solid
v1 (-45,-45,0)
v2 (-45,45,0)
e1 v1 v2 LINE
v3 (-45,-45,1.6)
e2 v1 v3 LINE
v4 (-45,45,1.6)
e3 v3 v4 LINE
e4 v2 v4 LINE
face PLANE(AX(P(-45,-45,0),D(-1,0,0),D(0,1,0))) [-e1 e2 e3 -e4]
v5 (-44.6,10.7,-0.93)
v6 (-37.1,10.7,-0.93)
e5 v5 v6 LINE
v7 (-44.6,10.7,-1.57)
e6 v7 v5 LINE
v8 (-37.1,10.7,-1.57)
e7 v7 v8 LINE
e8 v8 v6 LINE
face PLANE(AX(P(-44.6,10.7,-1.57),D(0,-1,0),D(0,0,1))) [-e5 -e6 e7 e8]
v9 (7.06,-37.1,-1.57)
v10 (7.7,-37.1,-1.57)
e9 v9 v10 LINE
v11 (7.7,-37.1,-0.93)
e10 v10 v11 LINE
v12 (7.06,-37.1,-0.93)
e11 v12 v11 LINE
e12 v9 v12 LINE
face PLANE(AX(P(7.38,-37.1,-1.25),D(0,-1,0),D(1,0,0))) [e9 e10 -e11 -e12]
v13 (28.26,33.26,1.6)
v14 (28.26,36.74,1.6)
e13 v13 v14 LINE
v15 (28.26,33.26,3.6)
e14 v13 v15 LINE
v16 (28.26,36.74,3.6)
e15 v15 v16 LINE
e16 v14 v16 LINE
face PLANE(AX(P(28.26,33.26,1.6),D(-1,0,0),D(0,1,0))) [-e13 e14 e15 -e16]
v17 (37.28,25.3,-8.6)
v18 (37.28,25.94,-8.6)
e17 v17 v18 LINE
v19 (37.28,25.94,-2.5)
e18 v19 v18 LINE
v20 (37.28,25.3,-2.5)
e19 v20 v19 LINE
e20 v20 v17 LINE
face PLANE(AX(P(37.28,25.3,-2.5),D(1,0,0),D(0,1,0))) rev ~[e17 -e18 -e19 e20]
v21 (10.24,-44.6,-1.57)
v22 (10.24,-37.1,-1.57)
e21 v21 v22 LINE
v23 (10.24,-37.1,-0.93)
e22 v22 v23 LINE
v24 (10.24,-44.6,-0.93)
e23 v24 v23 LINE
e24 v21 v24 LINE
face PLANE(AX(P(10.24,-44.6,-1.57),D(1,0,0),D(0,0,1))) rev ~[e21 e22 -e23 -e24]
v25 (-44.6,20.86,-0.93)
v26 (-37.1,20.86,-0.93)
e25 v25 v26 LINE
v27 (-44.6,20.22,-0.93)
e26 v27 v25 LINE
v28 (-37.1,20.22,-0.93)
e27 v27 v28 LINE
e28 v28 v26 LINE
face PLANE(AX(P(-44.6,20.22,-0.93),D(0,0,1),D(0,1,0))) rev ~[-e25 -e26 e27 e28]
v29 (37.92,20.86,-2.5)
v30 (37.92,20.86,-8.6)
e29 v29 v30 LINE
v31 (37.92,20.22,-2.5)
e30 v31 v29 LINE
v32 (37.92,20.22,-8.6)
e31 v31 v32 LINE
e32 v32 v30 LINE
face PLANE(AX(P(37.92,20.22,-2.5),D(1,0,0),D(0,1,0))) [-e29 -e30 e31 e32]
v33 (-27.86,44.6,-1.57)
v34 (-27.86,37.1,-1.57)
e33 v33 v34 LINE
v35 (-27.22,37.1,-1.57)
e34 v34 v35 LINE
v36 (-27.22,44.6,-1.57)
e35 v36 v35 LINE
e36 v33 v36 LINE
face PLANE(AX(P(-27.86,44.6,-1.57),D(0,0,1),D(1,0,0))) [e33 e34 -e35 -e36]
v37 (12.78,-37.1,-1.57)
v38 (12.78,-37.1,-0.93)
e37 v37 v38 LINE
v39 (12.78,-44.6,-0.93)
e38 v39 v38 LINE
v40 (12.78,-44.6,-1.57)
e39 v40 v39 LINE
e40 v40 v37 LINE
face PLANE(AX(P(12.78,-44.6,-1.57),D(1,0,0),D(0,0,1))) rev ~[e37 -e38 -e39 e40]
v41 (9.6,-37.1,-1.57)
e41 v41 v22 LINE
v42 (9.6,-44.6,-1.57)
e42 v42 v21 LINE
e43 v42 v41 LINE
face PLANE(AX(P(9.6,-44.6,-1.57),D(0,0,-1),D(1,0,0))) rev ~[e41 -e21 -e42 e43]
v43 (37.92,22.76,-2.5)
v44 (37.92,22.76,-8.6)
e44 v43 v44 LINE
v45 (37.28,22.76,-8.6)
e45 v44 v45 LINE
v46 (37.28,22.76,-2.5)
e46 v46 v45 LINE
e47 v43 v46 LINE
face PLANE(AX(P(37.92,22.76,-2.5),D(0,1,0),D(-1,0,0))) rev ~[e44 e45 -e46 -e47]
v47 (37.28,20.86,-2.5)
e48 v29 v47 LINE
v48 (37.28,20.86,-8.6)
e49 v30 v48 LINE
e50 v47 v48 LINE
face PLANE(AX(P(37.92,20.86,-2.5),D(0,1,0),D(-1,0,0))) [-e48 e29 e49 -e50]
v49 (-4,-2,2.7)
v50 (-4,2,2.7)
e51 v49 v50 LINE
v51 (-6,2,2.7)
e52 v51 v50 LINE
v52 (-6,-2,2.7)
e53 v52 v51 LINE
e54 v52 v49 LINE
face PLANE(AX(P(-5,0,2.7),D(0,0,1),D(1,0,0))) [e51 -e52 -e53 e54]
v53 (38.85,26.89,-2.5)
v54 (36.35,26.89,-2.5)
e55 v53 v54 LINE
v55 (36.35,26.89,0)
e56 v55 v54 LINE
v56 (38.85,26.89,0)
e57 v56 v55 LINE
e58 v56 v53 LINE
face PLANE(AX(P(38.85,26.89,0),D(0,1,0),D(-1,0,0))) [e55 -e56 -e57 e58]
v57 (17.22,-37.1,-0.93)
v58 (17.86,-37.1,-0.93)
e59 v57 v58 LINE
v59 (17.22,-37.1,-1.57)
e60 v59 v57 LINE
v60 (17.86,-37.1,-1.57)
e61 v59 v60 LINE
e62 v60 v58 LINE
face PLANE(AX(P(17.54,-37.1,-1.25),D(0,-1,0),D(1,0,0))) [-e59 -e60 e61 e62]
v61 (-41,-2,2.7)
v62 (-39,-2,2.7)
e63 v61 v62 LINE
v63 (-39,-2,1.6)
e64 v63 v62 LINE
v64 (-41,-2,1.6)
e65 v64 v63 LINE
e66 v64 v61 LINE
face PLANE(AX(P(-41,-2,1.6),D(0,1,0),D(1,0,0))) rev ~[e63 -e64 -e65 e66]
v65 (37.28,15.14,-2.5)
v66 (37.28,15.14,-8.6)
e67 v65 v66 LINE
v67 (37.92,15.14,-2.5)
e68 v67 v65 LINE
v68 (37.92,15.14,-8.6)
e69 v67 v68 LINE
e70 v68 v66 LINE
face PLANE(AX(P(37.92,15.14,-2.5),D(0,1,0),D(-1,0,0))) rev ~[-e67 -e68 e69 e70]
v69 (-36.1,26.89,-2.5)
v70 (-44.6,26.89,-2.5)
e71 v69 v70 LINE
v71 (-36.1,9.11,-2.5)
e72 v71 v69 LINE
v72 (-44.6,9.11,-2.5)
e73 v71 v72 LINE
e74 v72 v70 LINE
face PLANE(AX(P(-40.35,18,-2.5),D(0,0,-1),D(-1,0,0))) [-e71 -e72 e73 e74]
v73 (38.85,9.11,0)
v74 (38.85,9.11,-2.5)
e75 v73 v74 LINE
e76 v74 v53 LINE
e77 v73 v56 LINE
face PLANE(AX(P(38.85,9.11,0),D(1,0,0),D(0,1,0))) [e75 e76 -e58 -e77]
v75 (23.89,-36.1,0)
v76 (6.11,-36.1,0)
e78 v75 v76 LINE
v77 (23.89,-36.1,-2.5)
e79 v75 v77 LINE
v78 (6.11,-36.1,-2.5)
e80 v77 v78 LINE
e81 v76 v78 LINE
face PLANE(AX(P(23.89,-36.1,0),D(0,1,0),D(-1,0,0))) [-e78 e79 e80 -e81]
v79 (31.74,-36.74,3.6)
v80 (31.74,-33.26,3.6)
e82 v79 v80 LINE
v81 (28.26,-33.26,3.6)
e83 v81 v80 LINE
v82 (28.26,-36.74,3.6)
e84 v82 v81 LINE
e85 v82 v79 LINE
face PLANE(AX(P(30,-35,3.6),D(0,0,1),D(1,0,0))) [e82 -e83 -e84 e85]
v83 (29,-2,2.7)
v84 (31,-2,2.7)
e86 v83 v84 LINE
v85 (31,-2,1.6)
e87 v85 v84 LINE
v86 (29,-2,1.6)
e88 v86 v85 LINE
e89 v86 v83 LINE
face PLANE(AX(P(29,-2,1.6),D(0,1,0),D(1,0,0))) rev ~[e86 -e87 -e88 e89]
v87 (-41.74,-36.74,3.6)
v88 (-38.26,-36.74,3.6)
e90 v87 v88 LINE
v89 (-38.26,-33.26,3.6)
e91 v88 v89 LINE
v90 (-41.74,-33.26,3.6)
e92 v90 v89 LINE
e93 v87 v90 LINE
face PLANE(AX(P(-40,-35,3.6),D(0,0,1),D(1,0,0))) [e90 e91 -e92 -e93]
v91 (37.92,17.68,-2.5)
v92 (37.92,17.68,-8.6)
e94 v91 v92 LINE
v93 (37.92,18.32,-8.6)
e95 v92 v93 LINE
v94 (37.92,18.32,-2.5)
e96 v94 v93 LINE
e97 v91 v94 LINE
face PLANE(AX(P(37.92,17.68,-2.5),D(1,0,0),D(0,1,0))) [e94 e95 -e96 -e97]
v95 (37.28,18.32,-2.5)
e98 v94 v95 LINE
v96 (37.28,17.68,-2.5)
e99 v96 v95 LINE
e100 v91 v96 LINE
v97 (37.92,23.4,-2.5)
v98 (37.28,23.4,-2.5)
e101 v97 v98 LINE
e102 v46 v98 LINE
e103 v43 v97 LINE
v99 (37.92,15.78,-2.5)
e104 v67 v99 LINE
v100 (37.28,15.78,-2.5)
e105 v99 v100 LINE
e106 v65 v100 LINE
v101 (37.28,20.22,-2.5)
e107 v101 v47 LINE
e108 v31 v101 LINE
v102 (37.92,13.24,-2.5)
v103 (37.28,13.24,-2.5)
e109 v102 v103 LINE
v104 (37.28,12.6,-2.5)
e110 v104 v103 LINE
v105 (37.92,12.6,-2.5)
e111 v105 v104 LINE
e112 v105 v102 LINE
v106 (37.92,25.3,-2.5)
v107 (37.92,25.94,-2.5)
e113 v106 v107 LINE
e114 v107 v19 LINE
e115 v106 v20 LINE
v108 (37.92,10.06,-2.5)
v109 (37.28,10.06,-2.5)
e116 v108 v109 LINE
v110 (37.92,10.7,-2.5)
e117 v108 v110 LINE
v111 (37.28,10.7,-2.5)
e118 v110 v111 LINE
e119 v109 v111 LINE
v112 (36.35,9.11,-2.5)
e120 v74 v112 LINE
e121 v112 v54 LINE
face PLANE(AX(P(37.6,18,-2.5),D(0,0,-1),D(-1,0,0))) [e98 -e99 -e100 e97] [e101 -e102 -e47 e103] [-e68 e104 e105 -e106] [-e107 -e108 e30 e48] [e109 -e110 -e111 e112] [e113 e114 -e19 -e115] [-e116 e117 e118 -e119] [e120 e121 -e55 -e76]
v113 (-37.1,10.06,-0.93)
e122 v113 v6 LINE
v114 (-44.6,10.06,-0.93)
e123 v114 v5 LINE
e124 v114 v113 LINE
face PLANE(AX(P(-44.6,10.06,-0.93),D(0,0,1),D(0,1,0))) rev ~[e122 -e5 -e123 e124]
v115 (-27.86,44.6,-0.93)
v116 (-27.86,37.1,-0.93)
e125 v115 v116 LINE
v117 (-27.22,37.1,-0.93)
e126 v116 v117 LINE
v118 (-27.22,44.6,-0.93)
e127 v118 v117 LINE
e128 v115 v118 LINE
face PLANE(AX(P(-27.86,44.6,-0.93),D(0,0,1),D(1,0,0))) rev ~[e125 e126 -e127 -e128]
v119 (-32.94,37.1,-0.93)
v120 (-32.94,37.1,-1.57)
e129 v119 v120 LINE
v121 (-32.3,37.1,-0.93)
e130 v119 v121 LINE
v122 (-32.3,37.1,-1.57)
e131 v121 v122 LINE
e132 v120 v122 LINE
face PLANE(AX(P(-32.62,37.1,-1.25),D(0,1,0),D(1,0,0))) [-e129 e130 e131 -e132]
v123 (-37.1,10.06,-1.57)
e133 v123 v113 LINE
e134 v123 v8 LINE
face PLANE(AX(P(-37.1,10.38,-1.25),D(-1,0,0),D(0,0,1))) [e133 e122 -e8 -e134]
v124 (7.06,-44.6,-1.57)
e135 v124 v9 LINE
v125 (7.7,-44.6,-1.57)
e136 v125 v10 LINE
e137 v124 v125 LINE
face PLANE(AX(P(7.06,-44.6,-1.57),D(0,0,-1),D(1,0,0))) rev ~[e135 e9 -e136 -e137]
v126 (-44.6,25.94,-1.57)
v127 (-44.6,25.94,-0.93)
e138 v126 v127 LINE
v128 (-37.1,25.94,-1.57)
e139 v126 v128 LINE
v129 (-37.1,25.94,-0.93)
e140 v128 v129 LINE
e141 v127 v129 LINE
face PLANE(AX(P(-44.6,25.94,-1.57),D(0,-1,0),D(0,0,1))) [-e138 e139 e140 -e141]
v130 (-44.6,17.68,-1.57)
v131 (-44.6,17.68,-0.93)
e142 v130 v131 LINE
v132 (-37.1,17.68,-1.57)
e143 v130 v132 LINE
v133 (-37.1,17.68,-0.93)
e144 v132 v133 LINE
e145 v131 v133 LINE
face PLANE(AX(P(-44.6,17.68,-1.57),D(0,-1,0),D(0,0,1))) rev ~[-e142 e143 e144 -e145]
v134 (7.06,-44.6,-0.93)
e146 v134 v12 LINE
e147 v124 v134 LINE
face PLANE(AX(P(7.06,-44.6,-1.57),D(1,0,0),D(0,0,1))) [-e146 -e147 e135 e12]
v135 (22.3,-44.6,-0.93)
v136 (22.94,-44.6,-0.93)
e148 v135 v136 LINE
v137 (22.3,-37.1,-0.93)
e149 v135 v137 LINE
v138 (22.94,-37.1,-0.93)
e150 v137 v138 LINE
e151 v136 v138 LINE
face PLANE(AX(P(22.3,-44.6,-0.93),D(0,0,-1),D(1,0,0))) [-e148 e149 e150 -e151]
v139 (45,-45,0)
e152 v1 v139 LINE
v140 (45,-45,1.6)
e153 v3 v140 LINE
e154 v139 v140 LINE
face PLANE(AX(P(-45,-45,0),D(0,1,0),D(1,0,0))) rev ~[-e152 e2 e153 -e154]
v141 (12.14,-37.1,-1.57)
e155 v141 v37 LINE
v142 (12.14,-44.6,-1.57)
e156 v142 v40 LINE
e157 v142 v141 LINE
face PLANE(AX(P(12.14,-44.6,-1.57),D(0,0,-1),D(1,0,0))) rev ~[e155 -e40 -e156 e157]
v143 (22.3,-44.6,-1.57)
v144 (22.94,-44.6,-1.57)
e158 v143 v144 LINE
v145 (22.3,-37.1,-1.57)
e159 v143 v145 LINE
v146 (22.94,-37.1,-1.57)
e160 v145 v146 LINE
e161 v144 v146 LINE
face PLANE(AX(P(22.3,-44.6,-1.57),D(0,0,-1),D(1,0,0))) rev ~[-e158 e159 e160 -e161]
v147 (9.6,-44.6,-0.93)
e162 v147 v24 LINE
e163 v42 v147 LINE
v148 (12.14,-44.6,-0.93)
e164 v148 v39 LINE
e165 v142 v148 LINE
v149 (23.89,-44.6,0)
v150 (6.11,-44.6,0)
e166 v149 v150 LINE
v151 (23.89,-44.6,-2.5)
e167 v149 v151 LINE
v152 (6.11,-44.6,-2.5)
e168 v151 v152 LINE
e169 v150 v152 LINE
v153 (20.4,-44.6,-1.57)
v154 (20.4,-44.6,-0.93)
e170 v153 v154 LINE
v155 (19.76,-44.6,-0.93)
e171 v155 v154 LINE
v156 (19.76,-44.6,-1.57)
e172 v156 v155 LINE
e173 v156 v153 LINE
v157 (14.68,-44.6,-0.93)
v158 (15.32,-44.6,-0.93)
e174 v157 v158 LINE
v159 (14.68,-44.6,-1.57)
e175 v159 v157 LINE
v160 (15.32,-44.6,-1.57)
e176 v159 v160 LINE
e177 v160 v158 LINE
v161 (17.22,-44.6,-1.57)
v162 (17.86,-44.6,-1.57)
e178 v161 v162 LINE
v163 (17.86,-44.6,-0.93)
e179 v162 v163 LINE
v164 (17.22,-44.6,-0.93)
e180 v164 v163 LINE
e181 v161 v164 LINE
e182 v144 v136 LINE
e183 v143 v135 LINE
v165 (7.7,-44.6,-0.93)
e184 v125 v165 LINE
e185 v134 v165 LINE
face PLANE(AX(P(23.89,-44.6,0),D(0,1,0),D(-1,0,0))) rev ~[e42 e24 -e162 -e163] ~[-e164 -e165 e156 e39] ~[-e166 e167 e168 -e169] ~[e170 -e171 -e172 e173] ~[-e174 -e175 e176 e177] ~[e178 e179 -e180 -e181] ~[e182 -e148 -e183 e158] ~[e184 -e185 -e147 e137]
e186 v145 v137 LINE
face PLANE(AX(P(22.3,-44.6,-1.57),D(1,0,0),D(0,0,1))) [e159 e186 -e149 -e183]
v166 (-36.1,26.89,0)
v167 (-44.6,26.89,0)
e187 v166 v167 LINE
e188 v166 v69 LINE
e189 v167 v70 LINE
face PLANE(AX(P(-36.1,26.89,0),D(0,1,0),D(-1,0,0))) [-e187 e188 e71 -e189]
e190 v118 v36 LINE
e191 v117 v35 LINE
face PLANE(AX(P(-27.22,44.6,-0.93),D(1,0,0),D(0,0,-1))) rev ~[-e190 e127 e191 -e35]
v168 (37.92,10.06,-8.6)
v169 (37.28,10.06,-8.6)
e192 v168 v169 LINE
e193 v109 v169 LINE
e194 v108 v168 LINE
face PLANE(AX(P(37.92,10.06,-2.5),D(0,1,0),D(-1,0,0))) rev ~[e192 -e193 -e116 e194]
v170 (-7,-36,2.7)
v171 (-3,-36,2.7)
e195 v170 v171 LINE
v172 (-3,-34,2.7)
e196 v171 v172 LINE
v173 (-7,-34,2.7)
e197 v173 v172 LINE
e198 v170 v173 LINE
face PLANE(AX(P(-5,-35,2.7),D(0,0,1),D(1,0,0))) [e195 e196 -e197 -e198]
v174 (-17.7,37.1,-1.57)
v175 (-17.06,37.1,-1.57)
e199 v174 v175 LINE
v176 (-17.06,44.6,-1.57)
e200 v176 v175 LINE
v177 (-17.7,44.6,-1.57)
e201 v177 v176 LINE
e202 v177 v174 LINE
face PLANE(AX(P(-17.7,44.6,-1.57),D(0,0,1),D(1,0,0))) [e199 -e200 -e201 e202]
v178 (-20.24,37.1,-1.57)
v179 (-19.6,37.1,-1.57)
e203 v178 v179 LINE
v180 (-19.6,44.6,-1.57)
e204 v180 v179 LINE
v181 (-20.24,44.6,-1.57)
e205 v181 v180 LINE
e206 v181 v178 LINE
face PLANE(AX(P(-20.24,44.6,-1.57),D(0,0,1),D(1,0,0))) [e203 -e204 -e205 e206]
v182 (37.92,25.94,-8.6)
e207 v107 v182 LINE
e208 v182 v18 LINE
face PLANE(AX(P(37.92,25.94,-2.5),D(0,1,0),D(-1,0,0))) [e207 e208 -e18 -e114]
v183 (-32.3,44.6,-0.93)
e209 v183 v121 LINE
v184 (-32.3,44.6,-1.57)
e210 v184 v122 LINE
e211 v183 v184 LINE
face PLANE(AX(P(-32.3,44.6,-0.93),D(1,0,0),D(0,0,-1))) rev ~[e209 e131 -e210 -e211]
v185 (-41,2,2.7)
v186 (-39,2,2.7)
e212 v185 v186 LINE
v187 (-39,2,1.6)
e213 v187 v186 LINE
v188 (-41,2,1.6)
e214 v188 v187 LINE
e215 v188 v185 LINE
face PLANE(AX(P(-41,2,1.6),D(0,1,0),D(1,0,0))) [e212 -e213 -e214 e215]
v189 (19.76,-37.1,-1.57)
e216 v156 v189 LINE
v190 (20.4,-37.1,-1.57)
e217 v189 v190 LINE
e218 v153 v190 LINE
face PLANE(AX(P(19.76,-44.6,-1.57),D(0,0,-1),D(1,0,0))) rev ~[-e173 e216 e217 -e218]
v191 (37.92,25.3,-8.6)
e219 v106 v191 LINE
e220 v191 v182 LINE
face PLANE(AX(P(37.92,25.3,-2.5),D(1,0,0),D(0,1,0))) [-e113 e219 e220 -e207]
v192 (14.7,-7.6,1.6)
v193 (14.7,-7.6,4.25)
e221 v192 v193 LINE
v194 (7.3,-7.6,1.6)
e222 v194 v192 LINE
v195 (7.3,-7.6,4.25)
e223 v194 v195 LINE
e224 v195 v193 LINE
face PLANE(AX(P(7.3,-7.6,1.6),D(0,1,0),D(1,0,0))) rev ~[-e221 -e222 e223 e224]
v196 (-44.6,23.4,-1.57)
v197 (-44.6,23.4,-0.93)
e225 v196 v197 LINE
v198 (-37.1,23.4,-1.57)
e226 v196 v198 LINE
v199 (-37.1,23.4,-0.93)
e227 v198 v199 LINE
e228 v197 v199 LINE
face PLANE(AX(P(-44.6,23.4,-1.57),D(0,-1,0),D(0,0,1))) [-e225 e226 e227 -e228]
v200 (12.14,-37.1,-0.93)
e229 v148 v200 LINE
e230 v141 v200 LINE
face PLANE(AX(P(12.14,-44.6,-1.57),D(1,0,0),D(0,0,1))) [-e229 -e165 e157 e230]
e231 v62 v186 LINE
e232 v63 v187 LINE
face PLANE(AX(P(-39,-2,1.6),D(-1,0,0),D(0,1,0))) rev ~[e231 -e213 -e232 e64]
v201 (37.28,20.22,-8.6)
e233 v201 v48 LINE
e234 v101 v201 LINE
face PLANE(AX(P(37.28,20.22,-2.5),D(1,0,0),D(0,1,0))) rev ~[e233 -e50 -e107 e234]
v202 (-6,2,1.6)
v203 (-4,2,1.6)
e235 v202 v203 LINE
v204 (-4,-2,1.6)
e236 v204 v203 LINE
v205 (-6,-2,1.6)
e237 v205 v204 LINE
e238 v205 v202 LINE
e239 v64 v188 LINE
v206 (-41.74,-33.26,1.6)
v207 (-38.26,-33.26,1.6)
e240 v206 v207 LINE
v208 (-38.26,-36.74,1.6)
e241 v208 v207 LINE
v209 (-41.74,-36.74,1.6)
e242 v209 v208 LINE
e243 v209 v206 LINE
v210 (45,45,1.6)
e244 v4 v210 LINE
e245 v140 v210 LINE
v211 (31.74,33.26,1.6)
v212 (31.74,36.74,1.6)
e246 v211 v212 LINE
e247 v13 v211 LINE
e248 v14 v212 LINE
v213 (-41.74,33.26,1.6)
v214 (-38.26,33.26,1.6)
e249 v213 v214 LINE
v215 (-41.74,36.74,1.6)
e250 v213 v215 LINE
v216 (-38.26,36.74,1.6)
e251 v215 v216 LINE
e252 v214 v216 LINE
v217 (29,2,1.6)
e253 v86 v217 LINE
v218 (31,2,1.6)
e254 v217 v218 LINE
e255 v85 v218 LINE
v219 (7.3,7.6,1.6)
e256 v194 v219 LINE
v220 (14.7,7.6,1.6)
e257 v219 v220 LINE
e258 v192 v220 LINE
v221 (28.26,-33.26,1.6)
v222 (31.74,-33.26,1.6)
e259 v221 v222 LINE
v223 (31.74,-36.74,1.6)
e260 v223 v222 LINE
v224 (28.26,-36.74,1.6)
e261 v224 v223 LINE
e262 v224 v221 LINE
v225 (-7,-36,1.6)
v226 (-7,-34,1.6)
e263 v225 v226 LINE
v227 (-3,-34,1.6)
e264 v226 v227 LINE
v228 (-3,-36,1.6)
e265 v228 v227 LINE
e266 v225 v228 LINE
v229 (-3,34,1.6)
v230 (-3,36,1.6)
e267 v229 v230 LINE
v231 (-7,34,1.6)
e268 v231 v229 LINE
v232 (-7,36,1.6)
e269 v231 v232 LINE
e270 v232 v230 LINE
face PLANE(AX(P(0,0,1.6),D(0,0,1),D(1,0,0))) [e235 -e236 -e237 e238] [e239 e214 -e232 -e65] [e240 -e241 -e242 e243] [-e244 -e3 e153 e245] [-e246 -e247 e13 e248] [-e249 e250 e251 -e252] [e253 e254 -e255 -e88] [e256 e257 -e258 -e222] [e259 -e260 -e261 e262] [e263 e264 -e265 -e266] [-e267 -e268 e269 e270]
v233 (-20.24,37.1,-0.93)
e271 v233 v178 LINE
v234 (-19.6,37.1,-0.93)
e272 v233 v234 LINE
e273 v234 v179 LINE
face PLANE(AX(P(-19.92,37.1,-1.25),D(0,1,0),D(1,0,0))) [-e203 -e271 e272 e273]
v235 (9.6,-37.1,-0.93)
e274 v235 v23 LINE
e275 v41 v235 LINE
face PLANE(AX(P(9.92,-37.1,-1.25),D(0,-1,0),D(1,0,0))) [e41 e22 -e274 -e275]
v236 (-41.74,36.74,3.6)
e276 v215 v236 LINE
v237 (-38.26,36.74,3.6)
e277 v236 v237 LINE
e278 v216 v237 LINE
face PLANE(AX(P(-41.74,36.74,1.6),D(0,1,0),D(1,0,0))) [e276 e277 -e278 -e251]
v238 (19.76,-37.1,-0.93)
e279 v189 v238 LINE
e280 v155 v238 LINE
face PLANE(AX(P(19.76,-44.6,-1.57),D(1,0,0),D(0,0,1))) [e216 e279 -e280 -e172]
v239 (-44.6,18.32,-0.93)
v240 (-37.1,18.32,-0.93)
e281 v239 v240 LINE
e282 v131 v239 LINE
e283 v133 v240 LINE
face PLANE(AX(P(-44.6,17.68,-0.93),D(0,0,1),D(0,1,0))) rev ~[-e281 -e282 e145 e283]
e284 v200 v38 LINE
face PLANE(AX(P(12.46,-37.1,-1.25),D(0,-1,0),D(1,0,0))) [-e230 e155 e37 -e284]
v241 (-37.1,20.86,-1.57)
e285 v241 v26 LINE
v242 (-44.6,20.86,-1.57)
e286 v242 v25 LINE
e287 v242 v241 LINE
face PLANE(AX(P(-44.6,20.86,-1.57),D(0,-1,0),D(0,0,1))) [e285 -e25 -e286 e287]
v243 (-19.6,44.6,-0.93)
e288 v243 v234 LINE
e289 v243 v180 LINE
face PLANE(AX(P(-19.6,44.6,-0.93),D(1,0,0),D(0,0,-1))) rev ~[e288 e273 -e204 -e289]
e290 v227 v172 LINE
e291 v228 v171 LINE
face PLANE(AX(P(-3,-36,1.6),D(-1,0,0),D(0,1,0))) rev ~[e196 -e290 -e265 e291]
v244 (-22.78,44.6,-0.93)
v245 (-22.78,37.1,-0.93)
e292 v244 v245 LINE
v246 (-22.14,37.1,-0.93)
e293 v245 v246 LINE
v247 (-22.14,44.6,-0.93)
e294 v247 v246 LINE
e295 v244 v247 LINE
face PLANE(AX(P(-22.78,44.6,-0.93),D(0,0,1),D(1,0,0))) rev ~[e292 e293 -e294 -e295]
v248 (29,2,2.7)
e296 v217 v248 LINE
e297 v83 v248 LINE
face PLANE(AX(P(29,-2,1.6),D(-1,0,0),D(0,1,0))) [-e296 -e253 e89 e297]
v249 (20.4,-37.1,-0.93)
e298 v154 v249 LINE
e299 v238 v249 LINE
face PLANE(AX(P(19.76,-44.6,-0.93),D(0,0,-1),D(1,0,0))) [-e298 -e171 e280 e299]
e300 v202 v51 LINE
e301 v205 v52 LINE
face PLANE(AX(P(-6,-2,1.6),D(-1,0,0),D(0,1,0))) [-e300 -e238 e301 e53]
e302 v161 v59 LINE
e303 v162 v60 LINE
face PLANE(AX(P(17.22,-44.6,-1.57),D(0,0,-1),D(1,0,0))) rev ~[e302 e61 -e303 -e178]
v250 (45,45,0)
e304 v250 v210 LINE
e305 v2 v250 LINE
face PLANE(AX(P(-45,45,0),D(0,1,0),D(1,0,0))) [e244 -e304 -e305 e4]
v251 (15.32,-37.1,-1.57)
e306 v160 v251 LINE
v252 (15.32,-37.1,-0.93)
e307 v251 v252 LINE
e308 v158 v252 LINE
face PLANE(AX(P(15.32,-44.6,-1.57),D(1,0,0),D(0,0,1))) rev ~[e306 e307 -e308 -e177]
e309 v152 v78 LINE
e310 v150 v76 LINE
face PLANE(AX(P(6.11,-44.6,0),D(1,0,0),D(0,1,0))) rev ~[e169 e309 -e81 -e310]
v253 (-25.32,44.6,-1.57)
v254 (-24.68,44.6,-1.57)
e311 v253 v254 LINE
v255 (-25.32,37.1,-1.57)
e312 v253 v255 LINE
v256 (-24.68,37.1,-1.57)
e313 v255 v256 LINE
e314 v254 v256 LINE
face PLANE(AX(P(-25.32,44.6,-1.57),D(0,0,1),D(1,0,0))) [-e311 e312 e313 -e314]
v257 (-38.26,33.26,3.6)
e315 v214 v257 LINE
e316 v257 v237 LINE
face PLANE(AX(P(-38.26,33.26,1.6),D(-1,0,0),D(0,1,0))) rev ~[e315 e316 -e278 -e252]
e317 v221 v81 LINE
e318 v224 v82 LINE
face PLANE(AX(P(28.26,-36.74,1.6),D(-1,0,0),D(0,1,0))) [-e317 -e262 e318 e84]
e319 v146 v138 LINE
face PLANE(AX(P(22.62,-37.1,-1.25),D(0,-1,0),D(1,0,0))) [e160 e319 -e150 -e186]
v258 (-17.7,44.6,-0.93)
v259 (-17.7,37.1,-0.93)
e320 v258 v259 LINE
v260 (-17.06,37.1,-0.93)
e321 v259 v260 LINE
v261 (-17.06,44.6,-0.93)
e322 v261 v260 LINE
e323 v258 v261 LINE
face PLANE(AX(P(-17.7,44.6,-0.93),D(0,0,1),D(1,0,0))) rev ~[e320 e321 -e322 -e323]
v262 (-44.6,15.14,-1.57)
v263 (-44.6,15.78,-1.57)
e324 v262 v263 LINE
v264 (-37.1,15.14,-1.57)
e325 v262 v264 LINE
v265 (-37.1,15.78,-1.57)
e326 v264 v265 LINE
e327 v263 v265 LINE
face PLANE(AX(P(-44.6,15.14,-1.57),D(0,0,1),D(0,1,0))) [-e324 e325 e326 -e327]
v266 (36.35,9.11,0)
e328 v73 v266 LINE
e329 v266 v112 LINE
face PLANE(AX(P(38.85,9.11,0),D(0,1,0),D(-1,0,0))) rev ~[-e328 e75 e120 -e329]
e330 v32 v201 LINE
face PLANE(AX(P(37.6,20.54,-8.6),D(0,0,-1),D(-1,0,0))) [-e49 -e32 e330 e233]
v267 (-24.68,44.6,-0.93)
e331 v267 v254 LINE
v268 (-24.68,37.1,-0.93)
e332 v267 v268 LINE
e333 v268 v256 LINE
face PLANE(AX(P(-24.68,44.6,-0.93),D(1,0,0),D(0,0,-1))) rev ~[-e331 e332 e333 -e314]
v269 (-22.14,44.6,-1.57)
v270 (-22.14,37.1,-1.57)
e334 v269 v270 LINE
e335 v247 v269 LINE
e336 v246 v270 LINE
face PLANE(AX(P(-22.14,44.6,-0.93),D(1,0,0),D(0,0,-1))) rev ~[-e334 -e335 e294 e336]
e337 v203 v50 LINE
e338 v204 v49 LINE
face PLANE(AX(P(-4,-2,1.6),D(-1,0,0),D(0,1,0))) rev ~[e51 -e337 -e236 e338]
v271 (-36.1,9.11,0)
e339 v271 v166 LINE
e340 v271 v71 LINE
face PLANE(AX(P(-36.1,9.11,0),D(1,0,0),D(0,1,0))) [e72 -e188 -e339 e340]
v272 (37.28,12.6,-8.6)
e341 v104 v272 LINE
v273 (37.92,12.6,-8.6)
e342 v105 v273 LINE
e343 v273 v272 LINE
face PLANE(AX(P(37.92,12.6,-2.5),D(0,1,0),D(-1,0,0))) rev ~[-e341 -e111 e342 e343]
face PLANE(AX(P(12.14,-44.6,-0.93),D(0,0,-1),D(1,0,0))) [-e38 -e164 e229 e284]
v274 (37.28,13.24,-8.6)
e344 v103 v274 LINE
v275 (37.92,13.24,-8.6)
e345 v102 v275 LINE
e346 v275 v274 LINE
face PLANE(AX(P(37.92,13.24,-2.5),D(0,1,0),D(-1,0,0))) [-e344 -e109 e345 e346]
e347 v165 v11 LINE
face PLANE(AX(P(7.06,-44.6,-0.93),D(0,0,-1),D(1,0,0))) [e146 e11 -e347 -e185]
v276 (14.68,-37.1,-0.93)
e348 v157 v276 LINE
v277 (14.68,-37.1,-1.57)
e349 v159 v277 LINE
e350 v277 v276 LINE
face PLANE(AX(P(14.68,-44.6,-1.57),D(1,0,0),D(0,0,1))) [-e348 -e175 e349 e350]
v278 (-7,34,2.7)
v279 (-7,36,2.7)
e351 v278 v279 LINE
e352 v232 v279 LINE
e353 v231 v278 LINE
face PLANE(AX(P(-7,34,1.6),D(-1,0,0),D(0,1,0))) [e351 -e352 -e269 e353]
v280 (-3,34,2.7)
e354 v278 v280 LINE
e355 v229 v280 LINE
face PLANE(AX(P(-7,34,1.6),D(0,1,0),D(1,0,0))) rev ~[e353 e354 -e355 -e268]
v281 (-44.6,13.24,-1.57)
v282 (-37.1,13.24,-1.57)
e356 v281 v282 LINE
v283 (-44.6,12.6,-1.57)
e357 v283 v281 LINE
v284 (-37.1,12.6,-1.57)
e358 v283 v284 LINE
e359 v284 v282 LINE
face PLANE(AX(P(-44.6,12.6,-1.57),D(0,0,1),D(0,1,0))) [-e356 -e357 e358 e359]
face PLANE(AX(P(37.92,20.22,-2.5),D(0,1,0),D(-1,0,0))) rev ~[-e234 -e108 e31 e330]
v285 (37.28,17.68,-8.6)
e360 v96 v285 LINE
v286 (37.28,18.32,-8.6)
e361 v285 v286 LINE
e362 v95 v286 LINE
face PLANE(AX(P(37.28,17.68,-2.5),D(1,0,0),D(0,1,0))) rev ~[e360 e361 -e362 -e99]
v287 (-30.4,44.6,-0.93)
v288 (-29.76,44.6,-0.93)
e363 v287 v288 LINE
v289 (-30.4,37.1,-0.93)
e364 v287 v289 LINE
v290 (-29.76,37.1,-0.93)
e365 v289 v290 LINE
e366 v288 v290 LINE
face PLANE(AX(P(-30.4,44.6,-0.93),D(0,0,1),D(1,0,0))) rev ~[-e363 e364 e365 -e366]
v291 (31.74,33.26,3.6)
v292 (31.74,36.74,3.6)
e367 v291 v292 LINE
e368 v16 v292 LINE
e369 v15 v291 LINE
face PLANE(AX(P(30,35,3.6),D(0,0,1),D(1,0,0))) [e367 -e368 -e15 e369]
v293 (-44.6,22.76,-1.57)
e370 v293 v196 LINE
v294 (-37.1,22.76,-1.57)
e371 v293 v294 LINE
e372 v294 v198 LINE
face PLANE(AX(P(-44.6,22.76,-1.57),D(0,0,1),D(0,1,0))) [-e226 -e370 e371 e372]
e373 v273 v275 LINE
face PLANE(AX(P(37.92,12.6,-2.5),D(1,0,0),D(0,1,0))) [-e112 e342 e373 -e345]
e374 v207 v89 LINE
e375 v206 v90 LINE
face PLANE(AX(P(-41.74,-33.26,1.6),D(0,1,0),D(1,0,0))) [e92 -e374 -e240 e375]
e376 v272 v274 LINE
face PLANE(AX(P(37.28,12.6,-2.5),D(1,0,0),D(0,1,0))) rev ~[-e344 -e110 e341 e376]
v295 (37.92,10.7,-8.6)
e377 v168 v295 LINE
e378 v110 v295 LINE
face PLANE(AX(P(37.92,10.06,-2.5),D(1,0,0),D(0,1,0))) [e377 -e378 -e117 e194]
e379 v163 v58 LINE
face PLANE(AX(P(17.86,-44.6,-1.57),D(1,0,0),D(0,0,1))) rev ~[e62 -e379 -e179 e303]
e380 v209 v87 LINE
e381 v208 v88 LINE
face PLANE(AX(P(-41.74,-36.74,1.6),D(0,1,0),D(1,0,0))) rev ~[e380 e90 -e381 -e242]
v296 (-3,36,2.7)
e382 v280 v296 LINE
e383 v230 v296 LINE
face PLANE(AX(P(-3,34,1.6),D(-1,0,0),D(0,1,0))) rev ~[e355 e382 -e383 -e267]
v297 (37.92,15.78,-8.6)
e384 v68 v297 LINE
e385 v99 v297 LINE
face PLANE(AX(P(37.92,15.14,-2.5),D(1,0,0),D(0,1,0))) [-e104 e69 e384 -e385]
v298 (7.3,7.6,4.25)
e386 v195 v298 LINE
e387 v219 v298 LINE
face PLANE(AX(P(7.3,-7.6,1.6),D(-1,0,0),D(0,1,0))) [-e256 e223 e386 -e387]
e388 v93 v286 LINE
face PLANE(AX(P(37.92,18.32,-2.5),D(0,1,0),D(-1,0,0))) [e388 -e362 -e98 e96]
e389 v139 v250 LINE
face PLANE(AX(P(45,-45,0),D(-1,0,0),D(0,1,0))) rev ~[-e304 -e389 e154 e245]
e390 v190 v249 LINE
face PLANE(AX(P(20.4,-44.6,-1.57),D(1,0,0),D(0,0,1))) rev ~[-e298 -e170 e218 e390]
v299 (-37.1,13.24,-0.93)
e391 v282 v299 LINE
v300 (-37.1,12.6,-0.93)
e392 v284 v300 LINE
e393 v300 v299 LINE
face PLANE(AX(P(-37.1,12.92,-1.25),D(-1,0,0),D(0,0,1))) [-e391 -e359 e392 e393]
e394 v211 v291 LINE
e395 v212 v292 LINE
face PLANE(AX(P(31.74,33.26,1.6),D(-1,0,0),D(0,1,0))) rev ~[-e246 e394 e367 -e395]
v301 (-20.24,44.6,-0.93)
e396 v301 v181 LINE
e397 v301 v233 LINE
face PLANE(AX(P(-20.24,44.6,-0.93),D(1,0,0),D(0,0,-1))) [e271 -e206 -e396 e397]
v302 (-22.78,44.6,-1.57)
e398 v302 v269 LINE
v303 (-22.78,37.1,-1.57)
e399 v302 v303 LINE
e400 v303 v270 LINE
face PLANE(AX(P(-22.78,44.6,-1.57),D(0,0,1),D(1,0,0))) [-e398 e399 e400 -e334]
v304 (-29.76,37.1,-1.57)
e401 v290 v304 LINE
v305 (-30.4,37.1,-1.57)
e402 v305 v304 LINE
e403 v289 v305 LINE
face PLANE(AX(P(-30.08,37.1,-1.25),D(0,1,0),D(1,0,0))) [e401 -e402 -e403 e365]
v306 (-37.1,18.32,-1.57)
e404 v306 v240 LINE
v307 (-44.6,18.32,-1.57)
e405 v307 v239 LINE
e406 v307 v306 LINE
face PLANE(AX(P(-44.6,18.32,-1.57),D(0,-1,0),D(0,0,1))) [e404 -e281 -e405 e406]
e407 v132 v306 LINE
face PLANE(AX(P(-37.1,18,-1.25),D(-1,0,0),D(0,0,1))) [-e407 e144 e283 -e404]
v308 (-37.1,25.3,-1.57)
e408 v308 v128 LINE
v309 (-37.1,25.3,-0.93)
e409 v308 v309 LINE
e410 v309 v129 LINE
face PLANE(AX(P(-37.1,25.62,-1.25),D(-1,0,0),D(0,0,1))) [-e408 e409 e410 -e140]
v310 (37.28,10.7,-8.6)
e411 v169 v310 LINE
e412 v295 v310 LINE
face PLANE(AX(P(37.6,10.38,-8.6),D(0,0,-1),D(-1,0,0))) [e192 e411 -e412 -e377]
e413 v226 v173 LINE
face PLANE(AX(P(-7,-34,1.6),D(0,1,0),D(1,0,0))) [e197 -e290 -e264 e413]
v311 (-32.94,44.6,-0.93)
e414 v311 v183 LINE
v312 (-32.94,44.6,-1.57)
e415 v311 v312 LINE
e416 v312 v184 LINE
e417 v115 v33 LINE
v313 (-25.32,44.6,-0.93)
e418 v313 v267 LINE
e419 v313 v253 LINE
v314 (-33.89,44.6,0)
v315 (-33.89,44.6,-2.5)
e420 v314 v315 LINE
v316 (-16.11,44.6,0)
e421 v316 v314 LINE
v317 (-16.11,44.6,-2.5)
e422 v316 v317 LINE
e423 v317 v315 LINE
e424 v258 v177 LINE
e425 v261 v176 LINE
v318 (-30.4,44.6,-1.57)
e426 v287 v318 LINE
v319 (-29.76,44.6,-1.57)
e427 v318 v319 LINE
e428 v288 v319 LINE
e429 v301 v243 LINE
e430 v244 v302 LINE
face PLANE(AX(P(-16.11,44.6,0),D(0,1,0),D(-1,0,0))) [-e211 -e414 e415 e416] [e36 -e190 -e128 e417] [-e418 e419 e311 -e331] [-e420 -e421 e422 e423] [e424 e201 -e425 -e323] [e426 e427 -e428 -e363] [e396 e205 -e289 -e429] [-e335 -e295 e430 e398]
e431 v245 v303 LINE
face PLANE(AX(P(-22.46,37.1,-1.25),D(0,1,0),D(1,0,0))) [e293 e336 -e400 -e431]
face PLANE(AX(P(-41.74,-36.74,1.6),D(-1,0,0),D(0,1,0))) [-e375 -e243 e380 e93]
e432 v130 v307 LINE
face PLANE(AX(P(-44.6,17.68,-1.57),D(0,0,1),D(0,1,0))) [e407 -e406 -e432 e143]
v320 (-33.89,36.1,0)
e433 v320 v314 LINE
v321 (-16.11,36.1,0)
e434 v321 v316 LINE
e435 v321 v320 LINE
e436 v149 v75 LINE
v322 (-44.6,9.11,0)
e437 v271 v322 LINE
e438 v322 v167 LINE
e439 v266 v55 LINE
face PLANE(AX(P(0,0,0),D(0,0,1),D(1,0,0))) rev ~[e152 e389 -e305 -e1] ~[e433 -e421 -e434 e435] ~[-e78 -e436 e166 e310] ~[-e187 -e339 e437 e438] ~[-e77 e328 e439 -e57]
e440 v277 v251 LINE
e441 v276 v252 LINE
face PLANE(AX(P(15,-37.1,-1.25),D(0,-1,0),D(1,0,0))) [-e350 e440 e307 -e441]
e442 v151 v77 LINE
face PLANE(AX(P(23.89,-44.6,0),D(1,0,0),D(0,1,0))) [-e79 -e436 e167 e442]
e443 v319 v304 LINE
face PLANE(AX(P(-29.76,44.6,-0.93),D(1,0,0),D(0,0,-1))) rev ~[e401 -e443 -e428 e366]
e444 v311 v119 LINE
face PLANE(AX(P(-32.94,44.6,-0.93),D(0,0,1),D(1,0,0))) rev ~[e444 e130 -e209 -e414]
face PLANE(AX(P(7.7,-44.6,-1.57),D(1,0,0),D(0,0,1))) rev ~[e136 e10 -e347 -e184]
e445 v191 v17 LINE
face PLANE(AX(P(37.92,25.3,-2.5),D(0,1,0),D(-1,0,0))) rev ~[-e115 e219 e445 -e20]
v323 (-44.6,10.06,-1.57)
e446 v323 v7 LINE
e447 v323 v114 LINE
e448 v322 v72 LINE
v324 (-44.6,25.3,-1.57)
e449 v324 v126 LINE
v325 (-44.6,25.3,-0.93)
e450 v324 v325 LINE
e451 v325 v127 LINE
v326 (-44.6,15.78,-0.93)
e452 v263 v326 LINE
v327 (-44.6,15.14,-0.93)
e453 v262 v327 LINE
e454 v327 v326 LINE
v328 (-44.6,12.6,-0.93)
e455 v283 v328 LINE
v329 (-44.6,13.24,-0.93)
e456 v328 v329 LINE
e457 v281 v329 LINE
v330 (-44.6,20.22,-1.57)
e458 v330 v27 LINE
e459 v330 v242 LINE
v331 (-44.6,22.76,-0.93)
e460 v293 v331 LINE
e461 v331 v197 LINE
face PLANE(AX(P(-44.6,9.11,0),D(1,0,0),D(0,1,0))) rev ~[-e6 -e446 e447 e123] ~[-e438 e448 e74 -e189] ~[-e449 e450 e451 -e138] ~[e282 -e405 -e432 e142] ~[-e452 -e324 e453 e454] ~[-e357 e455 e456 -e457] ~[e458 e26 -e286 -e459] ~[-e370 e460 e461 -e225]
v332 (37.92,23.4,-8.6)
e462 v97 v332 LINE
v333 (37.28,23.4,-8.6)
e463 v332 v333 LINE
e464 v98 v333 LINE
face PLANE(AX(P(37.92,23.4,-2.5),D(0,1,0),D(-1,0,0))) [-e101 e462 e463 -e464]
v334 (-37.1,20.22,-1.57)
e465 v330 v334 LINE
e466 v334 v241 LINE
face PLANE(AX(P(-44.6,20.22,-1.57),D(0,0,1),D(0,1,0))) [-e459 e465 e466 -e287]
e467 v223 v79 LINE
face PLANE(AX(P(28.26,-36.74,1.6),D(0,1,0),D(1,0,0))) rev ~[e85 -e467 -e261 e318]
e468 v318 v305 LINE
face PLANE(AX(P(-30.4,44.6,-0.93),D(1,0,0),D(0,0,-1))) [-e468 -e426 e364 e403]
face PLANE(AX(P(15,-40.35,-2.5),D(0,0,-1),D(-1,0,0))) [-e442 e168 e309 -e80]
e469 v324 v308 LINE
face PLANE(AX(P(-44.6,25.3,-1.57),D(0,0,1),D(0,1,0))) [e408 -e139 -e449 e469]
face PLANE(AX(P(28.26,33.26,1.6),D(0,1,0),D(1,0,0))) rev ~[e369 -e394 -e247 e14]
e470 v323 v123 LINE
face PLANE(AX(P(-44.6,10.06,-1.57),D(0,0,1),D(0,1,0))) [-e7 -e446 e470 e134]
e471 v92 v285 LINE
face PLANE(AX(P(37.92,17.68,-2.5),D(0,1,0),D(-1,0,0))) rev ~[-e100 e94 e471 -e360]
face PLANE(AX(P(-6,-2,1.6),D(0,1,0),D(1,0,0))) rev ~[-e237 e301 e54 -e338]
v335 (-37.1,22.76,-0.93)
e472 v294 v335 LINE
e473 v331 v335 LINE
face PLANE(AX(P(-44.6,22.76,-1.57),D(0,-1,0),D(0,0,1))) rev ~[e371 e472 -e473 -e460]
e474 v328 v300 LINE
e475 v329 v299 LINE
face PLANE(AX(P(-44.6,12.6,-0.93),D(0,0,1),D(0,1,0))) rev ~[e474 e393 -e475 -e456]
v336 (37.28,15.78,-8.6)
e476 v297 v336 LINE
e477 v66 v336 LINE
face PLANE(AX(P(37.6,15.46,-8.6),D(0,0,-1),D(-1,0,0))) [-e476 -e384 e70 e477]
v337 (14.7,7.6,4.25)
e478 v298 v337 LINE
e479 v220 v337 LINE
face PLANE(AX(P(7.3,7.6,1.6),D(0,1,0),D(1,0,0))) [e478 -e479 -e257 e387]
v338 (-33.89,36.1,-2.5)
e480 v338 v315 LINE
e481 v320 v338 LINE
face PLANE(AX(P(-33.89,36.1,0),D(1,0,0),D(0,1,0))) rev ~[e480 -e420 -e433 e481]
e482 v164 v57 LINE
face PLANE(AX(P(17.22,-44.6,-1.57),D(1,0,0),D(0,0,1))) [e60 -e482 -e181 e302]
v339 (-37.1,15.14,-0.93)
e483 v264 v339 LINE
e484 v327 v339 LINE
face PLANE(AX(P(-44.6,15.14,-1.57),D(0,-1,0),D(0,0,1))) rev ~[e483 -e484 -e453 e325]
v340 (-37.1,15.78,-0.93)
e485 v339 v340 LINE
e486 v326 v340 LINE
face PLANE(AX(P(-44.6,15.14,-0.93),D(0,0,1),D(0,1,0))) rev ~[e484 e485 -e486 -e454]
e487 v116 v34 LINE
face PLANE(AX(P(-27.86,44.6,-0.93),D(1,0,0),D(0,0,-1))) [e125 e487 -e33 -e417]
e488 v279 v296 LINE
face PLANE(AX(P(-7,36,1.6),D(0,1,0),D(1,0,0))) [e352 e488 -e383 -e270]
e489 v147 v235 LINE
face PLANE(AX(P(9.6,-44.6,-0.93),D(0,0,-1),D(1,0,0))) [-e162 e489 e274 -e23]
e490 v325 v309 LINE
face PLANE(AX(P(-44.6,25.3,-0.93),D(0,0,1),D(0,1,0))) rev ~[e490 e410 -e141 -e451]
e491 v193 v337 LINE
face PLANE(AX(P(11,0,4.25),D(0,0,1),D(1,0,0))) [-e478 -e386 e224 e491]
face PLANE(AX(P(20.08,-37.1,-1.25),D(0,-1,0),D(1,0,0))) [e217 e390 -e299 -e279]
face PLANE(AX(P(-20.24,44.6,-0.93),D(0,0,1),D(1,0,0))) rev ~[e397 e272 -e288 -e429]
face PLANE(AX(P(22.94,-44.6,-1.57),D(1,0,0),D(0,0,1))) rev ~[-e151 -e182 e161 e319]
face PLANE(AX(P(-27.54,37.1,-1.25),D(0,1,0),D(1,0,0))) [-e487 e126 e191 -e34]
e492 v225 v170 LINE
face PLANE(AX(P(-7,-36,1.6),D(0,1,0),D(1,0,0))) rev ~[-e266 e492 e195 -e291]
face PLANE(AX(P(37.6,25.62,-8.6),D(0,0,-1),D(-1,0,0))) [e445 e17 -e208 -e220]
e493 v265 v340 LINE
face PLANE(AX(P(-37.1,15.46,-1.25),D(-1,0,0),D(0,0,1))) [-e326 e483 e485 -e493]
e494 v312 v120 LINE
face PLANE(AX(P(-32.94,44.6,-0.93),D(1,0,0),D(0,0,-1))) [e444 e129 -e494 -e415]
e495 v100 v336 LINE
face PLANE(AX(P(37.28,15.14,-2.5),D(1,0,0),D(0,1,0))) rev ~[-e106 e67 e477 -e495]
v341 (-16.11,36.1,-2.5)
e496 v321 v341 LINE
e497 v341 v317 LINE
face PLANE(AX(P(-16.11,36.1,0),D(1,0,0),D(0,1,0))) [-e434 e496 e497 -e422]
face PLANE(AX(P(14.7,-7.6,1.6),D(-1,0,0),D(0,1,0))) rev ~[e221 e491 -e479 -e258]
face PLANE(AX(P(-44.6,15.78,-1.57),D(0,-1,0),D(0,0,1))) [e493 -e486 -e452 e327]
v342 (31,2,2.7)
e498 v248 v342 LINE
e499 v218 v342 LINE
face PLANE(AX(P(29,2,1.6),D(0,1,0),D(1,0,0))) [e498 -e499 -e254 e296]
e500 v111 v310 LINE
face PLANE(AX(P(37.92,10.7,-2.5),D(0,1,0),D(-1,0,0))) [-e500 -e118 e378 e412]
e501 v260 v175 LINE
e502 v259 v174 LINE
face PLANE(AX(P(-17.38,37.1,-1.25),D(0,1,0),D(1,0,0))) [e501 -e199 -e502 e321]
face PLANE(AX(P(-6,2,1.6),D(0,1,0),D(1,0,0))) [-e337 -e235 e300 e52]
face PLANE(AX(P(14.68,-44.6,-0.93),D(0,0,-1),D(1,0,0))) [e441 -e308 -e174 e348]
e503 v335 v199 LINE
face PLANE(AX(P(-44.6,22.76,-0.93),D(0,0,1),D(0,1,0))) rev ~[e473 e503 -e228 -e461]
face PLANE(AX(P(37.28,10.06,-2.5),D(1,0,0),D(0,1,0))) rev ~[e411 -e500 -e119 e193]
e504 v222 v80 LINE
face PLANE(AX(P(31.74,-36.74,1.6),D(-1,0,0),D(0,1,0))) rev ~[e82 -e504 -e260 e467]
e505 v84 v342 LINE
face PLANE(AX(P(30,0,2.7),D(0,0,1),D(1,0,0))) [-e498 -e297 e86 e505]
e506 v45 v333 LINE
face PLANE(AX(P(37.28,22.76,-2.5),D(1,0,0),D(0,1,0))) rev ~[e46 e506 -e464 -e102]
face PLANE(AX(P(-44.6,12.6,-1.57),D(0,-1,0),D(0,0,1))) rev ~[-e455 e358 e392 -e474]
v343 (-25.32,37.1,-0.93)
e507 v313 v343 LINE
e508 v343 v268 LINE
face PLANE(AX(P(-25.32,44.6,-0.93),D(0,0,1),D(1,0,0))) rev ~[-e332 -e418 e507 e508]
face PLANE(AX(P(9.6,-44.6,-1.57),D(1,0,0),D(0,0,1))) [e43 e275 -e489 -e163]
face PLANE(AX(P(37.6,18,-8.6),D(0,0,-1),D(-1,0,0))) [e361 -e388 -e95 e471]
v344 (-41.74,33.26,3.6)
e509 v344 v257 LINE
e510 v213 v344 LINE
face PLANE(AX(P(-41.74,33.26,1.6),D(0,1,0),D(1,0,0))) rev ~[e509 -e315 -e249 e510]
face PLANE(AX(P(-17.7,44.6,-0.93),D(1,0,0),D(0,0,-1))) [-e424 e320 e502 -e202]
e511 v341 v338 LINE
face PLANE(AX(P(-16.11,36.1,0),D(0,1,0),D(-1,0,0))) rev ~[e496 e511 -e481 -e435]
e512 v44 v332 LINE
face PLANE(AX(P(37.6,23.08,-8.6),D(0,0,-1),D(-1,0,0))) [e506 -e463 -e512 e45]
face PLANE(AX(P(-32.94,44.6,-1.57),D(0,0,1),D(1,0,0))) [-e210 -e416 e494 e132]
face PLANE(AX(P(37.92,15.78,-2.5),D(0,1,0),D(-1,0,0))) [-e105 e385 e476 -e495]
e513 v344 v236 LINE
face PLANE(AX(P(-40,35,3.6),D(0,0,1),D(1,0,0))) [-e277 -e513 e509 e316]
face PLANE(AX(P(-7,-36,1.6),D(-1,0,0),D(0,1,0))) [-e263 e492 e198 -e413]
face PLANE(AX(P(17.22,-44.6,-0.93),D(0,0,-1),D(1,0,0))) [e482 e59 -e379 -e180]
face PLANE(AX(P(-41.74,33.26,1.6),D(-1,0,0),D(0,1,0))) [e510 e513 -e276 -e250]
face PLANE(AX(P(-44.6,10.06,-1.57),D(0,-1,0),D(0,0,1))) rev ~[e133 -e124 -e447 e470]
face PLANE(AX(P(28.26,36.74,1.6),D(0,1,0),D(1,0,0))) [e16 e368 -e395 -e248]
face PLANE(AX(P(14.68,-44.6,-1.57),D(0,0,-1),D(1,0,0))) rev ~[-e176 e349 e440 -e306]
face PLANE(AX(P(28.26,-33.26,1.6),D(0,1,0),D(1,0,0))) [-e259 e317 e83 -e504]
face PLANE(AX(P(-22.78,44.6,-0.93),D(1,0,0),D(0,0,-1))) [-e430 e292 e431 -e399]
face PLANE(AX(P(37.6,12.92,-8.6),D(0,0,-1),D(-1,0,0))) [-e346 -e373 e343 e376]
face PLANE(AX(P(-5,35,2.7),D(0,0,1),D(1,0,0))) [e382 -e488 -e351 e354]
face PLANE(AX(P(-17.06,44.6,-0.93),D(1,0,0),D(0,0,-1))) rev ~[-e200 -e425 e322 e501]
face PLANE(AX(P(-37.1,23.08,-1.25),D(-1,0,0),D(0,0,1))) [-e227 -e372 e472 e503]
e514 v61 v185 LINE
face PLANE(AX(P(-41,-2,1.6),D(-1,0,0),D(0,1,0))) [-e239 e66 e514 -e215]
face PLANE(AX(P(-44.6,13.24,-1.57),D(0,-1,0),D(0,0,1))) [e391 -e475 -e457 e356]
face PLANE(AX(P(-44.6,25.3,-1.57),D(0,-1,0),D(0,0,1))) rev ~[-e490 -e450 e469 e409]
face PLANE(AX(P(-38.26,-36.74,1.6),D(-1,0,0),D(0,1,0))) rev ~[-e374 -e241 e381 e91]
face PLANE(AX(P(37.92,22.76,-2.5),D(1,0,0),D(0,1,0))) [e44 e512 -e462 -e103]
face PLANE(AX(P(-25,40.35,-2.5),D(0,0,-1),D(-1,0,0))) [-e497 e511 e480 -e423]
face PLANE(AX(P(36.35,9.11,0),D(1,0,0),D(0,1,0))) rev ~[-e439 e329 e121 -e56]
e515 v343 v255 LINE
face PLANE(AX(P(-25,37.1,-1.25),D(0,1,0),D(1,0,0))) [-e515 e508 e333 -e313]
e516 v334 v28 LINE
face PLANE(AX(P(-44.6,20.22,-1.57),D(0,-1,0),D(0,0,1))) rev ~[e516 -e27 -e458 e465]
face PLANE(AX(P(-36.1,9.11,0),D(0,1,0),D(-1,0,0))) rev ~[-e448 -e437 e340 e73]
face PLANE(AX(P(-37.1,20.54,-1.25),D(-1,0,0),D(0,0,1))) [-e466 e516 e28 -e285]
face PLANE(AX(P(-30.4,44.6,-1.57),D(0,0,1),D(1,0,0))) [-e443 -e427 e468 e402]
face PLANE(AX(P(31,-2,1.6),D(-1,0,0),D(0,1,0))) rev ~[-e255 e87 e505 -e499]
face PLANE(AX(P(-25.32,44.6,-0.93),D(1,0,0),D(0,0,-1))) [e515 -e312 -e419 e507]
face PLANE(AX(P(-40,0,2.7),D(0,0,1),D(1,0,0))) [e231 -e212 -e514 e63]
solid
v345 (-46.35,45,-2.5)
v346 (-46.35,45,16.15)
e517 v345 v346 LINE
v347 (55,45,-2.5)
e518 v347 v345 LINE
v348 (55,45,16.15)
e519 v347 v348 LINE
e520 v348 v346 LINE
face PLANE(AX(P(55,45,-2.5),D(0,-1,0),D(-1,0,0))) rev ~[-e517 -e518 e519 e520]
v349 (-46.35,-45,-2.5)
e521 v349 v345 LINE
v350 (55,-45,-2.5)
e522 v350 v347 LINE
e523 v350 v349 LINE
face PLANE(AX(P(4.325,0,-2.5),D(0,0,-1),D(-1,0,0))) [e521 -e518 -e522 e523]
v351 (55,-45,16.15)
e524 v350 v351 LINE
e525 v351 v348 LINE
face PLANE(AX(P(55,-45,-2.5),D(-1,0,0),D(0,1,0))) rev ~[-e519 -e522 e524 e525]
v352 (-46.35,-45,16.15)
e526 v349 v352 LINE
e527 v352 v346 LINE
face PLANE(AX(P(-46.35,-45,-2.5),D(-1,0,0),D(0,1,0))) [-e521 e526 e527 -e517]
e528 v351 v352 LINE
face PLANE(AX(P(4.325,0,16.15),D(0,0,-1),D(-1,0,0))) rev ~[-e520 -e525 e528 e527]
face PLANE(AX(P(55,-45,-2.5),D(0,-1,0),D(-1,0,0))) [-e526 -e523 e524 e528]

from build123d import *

# Parameters (mm, degrees)
SKETCH_1_W          = 90
SKETCH_1_H          = 90
EXTRUDE_1_DEPTH     = 1.6
SKETCH_4_W          = 17.78
SKETCH_4_H          = 8.5
SKETCH_4_W_2        = 2.5
SKETCH_4_H_2        = 17.78
SKETCH_4_W_3        = 8.5
EXTRUDE_2_DEPTH     = 2.5
SKETCH_5_W          = 0.64
SKETCH_5_H          = 0.64
EXTRUDE_3_DEPTH     = 6.1
SKETCH_6_W          = 3.48
SKETCH_6_H          = 3.48
EXTRUDE_4_DEPTH     = 2
SKETCH_7_W          = 2
SKETCH_7_H          = 4
SKETCH_7_W_2        = 4
SKETCH_7_H_2        = 2
EXTRUDE_5_DEPTH     = 1.1
SKETCH_8_W          = 7.4
SKETCH_8_H          = 15.2
EXTRUDE_6_DEPTH     = 2.65
SKETCH_9_W          = 0.64
SKETCH_9_H          = 0.64
CUT_EXTRUDE_1_DEPTH = 7.5
SKETCH_10_W         = 0.64
SKETCH_10_H         = 0.64
CUT_EXTRUDE_2_DEPTH = 7.5
SKETCH_11_W         = 0.64
SKETCH_11_H         = 0.64
CUT_EXTRUDE_3_DEPTH = 7.5
SKETCH_14_W         = 101.35
SKETCH_14_H         = 90
EXTRUDE_9_DEPTH     = 18.65


with BuildPart() as part:
    # ｽｹｯﾁ1 → ﾎﾞｽ - 押し出し1 (new body)
    with BuildSketch(Plane.XY):
        Rectangle(SKETCH_1_W, SKETCH_1_H)
    extrude(amount=EXTRUDE_1_DEPTH)

    # ｽｹｯﾁ4 → ﾎﾞｽ - 押し出し2 (add)
    with BuildSketch(Plane(origin=(0, 0, 0), x_dir=(-1, 0, 0), z_dir=(0, 0, -1))):
        with Locations((-15, -40.35)):
            Rectangle(SKETCH_4_W, SKETCH_4_H)
        with Locations((-37.6, 18)):
            Rectangle(SKETCH_4_W_2, SKETCH_4_H_2)
        with Locations((25, 40.35)):
            Rectangle(SKETCH_4_W, SKETCH_4_H)
        with Locations((40.35, 18)):
            Rectangle(SKETCH_4_W_3, SKETCH_4_H_2)
    extrude(amount=EXTRUDE_2_DEPTH)

    # ｽｹｯﾁ5 → ﾎﾞｽ - 押し出し3 (add)
    with BuildSketch(Plane(origin=(0, 0, -2.5), x_dir=(-1, 0, 0), z_dir=(0, 0, -1))):
        with Locations((-37.6, 18)):
            Rectangle(SKETCH_5_W, SKETCH_5_H)
        with Locations((-37.6, 15.46)):
            Rectangle(SKETCH_5_W, SKETCH_5_H)
        with Locations((-37.6, 12.92)):
            Rectangle(SKETCH_5_W, SKETCH_5_H)
        with Locations((-37.6, 10.38)):
            Rectangle(SKETCH_5_W, SKETCH_5_H)
        with Locations((-37.6, 20.54)):
            Rectangle(SKETCH_5_W, SKETCH_5_H)
        with Locations((-37.6, 23.08)):
            Rectangle(SKETCH_5_W, SKETCH_5_H)
        with Locations((-37.6, 25.62)):
            Rectangle(SKETCH_5_W, SKETCH_5_H)
    extrude(amount=EXTRUDE_3_DEPTH)

    # ｽｹｯﾁ6 → ﾎﾞｽ - 押し出し4 (add)
    with BuildSketch(Plane.XY.offset(1.6)):
        with Locations((-40, -35)):
            Rectangle(SKETCH_6_W, SKETCH_6_H)
        with Locations((-40, 35)):
            Rectangle(SKETCH_6_W, SKETCH_6_H)
        with Locations((30, -35)):
            Rectangle(SKETCH_6_W, SKETCH_6_H)
        with Locations((30, 35)):
            Rectangle(SKETCH_6_W, SKETCH_6_H)
    extrude(amount=EXTRUDE_4_DEPTH)

    # ｽｹｯﾁ7 → ﾎﾞｽ - 押し出し5 (add)
    with BuildSketch(Plane.XY.offset(1.6)):
        with Locations((-40, 0)):
            Rectangle(SKETCH_7_W, SKETCH_7_H)
        with Locations((30, 0)):
            Rectangle(SKETCH_7_W, SKETCH_7_H)
        with Locations((-5, 35)):
            Rectangle(SKETCH_7_W_2, SKETCH_7_H_2)
        with Locations((-5, -35)):
            Rectangle(SKETCH_7_W_2, SKETCH_7_H_2)
        with Locations((-5, 0)):
            Rectangle(SKETCH_7_W, SKETCH_7_H)
    extrude(amount=EXTRUDE_5_DEPTH)

    # ｽｹｯﾁ8 → ﾎﾞｽ - 押し出し6 (add)
    with BuildSketch(Plane.XY.offset(1.6)):
        with Locations((11, 0)):
            Rectangle(SKETCH_8_W, SKETCH_8_H)
    extrude(amount=EXTRUDE_6_DEPTH)

    # ｽｹｯﾁ9 → ｶｯﾄ - 押し出し1 (cut)
    with BuildSketch(Plane.XZ.offset(44.6)):
        with Locations((15, -1.25)):
            Rectangle(SKETCH_9_W, SKETCH_9_H)
        with Locations((12.46, -1.25)):
            Rectangle(SKETCH_9_W, SKETCH_9_H)
        with Locations((9.92, -1.25)):
            Rectangle(SKETCH_9_W, SKETCH_9_H)
        with Locations((7.38, -1.25)):
            Rectangle(SKETCH_9_W, SKETCH_9_H)
        with Locations((17.54, -1.25)):
            Rectangle(SKETCH_9_W, SKETCH_9_H)
        with Locations((20.08, -1.25)):
            Rectangle(SKETCH_9_W, SKETCH_9_H)
        with Locations((22.62, -1.25)):
            Rectangle(SKETCH_9_W, SKETCH_9_H)
    extrude(amount=-CUT_EXTRUDE_1_DEPTH, mode=Mode.SUBTRACT)

    # ｽｹｯﾁ10 → ｶｯﾄ - 押し出し2 (cut)
    with BuildSketch(Plane.ZY.offset(44.6)):
        with Locations((-1.25, 18)):
            Rectangle(SKETCH_10_W, SKETCH_10_H)
        with Locations((-1.25, 25.62)):
            Rectangle(SKETCH_10_W, SKETCH_10_H)
        with Locations((-1.25, 23.08)):
            Rectangle(SKETCH_10_W, SKETCH_10_H)
        with Locations((-1.25, 20.54)):
            Rectangle(SKETCH_10_W, SKETCH_10_H)
        with Locations((-1.25, 15.46)):
            Rectangle(SKETCH_10_W, SKETCH_10_H)
        with Locations((-1.25, 12.92)):
            Rectangle(SKETCH_10_W, SKETCH_10_H)
        with Locations((-1.25, 10.38)):
            Rectangle(SKETCH_10_W, SKETCH_10_H)
    extrude(amount=-CUT_EXTRUDE_2_DEPTH, mode=Mode.SUBTRACT)

    # ｽｹｯﾁ11 → ｶｯﾄ - 押し出し3 (cut)
    with BuildSketch(Plane(origin=(0, 44.6, 0), x_dir=(1, 0, 0), z_dir=(0, 1, 0))):
        with Locations((-25, 1.25)):
            Rectangle(SKETCH_11_W, SKETCH_11_H)
        with Locations((-32.62, 1.25)):
            Rectangle(SKETCH_11_W, SKETCH_11_H)
        with Locations((-30.08, 1.25)):
            Rectangle(SKETCH_11_W, SKETCH_11_H)
        with Locations((-27.54, 1.25)):
            Rectangle(SKETCH_11_W, SKETCH_11_H)
        with Locations((-22.46, 1.25)):
            Rectangle(SKETCH_11_W, SKETCH_11_H)
        with Locations((-19.92, 1.25)):
            Rectangle(SKETCH_11_W, SKETCH_11_H)
        with Locations((-17.38, 1.25)):
            Rectangle(SKETCH_11_W, SKETCH_11_H)
    extrude(amount=-CUT_EXTRUDE_3_DEPTH, mode=Mode.SUBTRACT)


with BuildPart() as body_2:
    # ｽｹｯﾁ14 → ﾎﾞｽ - 押し出し9 (new body)
    with BuildSketch(Plane(origin=(0, 0, -2.5), x_dir=(-1, 0, 0), z_dir=(0, 0, -1))):
        with Locations((-4.325, 0)):
            Rectangle(SKETCH_14_W, SKETCH_14_H)
    extrude(amount=-EXTRUDE_9_DEPTH)


solid = Compound([part.part, body_2.part])
